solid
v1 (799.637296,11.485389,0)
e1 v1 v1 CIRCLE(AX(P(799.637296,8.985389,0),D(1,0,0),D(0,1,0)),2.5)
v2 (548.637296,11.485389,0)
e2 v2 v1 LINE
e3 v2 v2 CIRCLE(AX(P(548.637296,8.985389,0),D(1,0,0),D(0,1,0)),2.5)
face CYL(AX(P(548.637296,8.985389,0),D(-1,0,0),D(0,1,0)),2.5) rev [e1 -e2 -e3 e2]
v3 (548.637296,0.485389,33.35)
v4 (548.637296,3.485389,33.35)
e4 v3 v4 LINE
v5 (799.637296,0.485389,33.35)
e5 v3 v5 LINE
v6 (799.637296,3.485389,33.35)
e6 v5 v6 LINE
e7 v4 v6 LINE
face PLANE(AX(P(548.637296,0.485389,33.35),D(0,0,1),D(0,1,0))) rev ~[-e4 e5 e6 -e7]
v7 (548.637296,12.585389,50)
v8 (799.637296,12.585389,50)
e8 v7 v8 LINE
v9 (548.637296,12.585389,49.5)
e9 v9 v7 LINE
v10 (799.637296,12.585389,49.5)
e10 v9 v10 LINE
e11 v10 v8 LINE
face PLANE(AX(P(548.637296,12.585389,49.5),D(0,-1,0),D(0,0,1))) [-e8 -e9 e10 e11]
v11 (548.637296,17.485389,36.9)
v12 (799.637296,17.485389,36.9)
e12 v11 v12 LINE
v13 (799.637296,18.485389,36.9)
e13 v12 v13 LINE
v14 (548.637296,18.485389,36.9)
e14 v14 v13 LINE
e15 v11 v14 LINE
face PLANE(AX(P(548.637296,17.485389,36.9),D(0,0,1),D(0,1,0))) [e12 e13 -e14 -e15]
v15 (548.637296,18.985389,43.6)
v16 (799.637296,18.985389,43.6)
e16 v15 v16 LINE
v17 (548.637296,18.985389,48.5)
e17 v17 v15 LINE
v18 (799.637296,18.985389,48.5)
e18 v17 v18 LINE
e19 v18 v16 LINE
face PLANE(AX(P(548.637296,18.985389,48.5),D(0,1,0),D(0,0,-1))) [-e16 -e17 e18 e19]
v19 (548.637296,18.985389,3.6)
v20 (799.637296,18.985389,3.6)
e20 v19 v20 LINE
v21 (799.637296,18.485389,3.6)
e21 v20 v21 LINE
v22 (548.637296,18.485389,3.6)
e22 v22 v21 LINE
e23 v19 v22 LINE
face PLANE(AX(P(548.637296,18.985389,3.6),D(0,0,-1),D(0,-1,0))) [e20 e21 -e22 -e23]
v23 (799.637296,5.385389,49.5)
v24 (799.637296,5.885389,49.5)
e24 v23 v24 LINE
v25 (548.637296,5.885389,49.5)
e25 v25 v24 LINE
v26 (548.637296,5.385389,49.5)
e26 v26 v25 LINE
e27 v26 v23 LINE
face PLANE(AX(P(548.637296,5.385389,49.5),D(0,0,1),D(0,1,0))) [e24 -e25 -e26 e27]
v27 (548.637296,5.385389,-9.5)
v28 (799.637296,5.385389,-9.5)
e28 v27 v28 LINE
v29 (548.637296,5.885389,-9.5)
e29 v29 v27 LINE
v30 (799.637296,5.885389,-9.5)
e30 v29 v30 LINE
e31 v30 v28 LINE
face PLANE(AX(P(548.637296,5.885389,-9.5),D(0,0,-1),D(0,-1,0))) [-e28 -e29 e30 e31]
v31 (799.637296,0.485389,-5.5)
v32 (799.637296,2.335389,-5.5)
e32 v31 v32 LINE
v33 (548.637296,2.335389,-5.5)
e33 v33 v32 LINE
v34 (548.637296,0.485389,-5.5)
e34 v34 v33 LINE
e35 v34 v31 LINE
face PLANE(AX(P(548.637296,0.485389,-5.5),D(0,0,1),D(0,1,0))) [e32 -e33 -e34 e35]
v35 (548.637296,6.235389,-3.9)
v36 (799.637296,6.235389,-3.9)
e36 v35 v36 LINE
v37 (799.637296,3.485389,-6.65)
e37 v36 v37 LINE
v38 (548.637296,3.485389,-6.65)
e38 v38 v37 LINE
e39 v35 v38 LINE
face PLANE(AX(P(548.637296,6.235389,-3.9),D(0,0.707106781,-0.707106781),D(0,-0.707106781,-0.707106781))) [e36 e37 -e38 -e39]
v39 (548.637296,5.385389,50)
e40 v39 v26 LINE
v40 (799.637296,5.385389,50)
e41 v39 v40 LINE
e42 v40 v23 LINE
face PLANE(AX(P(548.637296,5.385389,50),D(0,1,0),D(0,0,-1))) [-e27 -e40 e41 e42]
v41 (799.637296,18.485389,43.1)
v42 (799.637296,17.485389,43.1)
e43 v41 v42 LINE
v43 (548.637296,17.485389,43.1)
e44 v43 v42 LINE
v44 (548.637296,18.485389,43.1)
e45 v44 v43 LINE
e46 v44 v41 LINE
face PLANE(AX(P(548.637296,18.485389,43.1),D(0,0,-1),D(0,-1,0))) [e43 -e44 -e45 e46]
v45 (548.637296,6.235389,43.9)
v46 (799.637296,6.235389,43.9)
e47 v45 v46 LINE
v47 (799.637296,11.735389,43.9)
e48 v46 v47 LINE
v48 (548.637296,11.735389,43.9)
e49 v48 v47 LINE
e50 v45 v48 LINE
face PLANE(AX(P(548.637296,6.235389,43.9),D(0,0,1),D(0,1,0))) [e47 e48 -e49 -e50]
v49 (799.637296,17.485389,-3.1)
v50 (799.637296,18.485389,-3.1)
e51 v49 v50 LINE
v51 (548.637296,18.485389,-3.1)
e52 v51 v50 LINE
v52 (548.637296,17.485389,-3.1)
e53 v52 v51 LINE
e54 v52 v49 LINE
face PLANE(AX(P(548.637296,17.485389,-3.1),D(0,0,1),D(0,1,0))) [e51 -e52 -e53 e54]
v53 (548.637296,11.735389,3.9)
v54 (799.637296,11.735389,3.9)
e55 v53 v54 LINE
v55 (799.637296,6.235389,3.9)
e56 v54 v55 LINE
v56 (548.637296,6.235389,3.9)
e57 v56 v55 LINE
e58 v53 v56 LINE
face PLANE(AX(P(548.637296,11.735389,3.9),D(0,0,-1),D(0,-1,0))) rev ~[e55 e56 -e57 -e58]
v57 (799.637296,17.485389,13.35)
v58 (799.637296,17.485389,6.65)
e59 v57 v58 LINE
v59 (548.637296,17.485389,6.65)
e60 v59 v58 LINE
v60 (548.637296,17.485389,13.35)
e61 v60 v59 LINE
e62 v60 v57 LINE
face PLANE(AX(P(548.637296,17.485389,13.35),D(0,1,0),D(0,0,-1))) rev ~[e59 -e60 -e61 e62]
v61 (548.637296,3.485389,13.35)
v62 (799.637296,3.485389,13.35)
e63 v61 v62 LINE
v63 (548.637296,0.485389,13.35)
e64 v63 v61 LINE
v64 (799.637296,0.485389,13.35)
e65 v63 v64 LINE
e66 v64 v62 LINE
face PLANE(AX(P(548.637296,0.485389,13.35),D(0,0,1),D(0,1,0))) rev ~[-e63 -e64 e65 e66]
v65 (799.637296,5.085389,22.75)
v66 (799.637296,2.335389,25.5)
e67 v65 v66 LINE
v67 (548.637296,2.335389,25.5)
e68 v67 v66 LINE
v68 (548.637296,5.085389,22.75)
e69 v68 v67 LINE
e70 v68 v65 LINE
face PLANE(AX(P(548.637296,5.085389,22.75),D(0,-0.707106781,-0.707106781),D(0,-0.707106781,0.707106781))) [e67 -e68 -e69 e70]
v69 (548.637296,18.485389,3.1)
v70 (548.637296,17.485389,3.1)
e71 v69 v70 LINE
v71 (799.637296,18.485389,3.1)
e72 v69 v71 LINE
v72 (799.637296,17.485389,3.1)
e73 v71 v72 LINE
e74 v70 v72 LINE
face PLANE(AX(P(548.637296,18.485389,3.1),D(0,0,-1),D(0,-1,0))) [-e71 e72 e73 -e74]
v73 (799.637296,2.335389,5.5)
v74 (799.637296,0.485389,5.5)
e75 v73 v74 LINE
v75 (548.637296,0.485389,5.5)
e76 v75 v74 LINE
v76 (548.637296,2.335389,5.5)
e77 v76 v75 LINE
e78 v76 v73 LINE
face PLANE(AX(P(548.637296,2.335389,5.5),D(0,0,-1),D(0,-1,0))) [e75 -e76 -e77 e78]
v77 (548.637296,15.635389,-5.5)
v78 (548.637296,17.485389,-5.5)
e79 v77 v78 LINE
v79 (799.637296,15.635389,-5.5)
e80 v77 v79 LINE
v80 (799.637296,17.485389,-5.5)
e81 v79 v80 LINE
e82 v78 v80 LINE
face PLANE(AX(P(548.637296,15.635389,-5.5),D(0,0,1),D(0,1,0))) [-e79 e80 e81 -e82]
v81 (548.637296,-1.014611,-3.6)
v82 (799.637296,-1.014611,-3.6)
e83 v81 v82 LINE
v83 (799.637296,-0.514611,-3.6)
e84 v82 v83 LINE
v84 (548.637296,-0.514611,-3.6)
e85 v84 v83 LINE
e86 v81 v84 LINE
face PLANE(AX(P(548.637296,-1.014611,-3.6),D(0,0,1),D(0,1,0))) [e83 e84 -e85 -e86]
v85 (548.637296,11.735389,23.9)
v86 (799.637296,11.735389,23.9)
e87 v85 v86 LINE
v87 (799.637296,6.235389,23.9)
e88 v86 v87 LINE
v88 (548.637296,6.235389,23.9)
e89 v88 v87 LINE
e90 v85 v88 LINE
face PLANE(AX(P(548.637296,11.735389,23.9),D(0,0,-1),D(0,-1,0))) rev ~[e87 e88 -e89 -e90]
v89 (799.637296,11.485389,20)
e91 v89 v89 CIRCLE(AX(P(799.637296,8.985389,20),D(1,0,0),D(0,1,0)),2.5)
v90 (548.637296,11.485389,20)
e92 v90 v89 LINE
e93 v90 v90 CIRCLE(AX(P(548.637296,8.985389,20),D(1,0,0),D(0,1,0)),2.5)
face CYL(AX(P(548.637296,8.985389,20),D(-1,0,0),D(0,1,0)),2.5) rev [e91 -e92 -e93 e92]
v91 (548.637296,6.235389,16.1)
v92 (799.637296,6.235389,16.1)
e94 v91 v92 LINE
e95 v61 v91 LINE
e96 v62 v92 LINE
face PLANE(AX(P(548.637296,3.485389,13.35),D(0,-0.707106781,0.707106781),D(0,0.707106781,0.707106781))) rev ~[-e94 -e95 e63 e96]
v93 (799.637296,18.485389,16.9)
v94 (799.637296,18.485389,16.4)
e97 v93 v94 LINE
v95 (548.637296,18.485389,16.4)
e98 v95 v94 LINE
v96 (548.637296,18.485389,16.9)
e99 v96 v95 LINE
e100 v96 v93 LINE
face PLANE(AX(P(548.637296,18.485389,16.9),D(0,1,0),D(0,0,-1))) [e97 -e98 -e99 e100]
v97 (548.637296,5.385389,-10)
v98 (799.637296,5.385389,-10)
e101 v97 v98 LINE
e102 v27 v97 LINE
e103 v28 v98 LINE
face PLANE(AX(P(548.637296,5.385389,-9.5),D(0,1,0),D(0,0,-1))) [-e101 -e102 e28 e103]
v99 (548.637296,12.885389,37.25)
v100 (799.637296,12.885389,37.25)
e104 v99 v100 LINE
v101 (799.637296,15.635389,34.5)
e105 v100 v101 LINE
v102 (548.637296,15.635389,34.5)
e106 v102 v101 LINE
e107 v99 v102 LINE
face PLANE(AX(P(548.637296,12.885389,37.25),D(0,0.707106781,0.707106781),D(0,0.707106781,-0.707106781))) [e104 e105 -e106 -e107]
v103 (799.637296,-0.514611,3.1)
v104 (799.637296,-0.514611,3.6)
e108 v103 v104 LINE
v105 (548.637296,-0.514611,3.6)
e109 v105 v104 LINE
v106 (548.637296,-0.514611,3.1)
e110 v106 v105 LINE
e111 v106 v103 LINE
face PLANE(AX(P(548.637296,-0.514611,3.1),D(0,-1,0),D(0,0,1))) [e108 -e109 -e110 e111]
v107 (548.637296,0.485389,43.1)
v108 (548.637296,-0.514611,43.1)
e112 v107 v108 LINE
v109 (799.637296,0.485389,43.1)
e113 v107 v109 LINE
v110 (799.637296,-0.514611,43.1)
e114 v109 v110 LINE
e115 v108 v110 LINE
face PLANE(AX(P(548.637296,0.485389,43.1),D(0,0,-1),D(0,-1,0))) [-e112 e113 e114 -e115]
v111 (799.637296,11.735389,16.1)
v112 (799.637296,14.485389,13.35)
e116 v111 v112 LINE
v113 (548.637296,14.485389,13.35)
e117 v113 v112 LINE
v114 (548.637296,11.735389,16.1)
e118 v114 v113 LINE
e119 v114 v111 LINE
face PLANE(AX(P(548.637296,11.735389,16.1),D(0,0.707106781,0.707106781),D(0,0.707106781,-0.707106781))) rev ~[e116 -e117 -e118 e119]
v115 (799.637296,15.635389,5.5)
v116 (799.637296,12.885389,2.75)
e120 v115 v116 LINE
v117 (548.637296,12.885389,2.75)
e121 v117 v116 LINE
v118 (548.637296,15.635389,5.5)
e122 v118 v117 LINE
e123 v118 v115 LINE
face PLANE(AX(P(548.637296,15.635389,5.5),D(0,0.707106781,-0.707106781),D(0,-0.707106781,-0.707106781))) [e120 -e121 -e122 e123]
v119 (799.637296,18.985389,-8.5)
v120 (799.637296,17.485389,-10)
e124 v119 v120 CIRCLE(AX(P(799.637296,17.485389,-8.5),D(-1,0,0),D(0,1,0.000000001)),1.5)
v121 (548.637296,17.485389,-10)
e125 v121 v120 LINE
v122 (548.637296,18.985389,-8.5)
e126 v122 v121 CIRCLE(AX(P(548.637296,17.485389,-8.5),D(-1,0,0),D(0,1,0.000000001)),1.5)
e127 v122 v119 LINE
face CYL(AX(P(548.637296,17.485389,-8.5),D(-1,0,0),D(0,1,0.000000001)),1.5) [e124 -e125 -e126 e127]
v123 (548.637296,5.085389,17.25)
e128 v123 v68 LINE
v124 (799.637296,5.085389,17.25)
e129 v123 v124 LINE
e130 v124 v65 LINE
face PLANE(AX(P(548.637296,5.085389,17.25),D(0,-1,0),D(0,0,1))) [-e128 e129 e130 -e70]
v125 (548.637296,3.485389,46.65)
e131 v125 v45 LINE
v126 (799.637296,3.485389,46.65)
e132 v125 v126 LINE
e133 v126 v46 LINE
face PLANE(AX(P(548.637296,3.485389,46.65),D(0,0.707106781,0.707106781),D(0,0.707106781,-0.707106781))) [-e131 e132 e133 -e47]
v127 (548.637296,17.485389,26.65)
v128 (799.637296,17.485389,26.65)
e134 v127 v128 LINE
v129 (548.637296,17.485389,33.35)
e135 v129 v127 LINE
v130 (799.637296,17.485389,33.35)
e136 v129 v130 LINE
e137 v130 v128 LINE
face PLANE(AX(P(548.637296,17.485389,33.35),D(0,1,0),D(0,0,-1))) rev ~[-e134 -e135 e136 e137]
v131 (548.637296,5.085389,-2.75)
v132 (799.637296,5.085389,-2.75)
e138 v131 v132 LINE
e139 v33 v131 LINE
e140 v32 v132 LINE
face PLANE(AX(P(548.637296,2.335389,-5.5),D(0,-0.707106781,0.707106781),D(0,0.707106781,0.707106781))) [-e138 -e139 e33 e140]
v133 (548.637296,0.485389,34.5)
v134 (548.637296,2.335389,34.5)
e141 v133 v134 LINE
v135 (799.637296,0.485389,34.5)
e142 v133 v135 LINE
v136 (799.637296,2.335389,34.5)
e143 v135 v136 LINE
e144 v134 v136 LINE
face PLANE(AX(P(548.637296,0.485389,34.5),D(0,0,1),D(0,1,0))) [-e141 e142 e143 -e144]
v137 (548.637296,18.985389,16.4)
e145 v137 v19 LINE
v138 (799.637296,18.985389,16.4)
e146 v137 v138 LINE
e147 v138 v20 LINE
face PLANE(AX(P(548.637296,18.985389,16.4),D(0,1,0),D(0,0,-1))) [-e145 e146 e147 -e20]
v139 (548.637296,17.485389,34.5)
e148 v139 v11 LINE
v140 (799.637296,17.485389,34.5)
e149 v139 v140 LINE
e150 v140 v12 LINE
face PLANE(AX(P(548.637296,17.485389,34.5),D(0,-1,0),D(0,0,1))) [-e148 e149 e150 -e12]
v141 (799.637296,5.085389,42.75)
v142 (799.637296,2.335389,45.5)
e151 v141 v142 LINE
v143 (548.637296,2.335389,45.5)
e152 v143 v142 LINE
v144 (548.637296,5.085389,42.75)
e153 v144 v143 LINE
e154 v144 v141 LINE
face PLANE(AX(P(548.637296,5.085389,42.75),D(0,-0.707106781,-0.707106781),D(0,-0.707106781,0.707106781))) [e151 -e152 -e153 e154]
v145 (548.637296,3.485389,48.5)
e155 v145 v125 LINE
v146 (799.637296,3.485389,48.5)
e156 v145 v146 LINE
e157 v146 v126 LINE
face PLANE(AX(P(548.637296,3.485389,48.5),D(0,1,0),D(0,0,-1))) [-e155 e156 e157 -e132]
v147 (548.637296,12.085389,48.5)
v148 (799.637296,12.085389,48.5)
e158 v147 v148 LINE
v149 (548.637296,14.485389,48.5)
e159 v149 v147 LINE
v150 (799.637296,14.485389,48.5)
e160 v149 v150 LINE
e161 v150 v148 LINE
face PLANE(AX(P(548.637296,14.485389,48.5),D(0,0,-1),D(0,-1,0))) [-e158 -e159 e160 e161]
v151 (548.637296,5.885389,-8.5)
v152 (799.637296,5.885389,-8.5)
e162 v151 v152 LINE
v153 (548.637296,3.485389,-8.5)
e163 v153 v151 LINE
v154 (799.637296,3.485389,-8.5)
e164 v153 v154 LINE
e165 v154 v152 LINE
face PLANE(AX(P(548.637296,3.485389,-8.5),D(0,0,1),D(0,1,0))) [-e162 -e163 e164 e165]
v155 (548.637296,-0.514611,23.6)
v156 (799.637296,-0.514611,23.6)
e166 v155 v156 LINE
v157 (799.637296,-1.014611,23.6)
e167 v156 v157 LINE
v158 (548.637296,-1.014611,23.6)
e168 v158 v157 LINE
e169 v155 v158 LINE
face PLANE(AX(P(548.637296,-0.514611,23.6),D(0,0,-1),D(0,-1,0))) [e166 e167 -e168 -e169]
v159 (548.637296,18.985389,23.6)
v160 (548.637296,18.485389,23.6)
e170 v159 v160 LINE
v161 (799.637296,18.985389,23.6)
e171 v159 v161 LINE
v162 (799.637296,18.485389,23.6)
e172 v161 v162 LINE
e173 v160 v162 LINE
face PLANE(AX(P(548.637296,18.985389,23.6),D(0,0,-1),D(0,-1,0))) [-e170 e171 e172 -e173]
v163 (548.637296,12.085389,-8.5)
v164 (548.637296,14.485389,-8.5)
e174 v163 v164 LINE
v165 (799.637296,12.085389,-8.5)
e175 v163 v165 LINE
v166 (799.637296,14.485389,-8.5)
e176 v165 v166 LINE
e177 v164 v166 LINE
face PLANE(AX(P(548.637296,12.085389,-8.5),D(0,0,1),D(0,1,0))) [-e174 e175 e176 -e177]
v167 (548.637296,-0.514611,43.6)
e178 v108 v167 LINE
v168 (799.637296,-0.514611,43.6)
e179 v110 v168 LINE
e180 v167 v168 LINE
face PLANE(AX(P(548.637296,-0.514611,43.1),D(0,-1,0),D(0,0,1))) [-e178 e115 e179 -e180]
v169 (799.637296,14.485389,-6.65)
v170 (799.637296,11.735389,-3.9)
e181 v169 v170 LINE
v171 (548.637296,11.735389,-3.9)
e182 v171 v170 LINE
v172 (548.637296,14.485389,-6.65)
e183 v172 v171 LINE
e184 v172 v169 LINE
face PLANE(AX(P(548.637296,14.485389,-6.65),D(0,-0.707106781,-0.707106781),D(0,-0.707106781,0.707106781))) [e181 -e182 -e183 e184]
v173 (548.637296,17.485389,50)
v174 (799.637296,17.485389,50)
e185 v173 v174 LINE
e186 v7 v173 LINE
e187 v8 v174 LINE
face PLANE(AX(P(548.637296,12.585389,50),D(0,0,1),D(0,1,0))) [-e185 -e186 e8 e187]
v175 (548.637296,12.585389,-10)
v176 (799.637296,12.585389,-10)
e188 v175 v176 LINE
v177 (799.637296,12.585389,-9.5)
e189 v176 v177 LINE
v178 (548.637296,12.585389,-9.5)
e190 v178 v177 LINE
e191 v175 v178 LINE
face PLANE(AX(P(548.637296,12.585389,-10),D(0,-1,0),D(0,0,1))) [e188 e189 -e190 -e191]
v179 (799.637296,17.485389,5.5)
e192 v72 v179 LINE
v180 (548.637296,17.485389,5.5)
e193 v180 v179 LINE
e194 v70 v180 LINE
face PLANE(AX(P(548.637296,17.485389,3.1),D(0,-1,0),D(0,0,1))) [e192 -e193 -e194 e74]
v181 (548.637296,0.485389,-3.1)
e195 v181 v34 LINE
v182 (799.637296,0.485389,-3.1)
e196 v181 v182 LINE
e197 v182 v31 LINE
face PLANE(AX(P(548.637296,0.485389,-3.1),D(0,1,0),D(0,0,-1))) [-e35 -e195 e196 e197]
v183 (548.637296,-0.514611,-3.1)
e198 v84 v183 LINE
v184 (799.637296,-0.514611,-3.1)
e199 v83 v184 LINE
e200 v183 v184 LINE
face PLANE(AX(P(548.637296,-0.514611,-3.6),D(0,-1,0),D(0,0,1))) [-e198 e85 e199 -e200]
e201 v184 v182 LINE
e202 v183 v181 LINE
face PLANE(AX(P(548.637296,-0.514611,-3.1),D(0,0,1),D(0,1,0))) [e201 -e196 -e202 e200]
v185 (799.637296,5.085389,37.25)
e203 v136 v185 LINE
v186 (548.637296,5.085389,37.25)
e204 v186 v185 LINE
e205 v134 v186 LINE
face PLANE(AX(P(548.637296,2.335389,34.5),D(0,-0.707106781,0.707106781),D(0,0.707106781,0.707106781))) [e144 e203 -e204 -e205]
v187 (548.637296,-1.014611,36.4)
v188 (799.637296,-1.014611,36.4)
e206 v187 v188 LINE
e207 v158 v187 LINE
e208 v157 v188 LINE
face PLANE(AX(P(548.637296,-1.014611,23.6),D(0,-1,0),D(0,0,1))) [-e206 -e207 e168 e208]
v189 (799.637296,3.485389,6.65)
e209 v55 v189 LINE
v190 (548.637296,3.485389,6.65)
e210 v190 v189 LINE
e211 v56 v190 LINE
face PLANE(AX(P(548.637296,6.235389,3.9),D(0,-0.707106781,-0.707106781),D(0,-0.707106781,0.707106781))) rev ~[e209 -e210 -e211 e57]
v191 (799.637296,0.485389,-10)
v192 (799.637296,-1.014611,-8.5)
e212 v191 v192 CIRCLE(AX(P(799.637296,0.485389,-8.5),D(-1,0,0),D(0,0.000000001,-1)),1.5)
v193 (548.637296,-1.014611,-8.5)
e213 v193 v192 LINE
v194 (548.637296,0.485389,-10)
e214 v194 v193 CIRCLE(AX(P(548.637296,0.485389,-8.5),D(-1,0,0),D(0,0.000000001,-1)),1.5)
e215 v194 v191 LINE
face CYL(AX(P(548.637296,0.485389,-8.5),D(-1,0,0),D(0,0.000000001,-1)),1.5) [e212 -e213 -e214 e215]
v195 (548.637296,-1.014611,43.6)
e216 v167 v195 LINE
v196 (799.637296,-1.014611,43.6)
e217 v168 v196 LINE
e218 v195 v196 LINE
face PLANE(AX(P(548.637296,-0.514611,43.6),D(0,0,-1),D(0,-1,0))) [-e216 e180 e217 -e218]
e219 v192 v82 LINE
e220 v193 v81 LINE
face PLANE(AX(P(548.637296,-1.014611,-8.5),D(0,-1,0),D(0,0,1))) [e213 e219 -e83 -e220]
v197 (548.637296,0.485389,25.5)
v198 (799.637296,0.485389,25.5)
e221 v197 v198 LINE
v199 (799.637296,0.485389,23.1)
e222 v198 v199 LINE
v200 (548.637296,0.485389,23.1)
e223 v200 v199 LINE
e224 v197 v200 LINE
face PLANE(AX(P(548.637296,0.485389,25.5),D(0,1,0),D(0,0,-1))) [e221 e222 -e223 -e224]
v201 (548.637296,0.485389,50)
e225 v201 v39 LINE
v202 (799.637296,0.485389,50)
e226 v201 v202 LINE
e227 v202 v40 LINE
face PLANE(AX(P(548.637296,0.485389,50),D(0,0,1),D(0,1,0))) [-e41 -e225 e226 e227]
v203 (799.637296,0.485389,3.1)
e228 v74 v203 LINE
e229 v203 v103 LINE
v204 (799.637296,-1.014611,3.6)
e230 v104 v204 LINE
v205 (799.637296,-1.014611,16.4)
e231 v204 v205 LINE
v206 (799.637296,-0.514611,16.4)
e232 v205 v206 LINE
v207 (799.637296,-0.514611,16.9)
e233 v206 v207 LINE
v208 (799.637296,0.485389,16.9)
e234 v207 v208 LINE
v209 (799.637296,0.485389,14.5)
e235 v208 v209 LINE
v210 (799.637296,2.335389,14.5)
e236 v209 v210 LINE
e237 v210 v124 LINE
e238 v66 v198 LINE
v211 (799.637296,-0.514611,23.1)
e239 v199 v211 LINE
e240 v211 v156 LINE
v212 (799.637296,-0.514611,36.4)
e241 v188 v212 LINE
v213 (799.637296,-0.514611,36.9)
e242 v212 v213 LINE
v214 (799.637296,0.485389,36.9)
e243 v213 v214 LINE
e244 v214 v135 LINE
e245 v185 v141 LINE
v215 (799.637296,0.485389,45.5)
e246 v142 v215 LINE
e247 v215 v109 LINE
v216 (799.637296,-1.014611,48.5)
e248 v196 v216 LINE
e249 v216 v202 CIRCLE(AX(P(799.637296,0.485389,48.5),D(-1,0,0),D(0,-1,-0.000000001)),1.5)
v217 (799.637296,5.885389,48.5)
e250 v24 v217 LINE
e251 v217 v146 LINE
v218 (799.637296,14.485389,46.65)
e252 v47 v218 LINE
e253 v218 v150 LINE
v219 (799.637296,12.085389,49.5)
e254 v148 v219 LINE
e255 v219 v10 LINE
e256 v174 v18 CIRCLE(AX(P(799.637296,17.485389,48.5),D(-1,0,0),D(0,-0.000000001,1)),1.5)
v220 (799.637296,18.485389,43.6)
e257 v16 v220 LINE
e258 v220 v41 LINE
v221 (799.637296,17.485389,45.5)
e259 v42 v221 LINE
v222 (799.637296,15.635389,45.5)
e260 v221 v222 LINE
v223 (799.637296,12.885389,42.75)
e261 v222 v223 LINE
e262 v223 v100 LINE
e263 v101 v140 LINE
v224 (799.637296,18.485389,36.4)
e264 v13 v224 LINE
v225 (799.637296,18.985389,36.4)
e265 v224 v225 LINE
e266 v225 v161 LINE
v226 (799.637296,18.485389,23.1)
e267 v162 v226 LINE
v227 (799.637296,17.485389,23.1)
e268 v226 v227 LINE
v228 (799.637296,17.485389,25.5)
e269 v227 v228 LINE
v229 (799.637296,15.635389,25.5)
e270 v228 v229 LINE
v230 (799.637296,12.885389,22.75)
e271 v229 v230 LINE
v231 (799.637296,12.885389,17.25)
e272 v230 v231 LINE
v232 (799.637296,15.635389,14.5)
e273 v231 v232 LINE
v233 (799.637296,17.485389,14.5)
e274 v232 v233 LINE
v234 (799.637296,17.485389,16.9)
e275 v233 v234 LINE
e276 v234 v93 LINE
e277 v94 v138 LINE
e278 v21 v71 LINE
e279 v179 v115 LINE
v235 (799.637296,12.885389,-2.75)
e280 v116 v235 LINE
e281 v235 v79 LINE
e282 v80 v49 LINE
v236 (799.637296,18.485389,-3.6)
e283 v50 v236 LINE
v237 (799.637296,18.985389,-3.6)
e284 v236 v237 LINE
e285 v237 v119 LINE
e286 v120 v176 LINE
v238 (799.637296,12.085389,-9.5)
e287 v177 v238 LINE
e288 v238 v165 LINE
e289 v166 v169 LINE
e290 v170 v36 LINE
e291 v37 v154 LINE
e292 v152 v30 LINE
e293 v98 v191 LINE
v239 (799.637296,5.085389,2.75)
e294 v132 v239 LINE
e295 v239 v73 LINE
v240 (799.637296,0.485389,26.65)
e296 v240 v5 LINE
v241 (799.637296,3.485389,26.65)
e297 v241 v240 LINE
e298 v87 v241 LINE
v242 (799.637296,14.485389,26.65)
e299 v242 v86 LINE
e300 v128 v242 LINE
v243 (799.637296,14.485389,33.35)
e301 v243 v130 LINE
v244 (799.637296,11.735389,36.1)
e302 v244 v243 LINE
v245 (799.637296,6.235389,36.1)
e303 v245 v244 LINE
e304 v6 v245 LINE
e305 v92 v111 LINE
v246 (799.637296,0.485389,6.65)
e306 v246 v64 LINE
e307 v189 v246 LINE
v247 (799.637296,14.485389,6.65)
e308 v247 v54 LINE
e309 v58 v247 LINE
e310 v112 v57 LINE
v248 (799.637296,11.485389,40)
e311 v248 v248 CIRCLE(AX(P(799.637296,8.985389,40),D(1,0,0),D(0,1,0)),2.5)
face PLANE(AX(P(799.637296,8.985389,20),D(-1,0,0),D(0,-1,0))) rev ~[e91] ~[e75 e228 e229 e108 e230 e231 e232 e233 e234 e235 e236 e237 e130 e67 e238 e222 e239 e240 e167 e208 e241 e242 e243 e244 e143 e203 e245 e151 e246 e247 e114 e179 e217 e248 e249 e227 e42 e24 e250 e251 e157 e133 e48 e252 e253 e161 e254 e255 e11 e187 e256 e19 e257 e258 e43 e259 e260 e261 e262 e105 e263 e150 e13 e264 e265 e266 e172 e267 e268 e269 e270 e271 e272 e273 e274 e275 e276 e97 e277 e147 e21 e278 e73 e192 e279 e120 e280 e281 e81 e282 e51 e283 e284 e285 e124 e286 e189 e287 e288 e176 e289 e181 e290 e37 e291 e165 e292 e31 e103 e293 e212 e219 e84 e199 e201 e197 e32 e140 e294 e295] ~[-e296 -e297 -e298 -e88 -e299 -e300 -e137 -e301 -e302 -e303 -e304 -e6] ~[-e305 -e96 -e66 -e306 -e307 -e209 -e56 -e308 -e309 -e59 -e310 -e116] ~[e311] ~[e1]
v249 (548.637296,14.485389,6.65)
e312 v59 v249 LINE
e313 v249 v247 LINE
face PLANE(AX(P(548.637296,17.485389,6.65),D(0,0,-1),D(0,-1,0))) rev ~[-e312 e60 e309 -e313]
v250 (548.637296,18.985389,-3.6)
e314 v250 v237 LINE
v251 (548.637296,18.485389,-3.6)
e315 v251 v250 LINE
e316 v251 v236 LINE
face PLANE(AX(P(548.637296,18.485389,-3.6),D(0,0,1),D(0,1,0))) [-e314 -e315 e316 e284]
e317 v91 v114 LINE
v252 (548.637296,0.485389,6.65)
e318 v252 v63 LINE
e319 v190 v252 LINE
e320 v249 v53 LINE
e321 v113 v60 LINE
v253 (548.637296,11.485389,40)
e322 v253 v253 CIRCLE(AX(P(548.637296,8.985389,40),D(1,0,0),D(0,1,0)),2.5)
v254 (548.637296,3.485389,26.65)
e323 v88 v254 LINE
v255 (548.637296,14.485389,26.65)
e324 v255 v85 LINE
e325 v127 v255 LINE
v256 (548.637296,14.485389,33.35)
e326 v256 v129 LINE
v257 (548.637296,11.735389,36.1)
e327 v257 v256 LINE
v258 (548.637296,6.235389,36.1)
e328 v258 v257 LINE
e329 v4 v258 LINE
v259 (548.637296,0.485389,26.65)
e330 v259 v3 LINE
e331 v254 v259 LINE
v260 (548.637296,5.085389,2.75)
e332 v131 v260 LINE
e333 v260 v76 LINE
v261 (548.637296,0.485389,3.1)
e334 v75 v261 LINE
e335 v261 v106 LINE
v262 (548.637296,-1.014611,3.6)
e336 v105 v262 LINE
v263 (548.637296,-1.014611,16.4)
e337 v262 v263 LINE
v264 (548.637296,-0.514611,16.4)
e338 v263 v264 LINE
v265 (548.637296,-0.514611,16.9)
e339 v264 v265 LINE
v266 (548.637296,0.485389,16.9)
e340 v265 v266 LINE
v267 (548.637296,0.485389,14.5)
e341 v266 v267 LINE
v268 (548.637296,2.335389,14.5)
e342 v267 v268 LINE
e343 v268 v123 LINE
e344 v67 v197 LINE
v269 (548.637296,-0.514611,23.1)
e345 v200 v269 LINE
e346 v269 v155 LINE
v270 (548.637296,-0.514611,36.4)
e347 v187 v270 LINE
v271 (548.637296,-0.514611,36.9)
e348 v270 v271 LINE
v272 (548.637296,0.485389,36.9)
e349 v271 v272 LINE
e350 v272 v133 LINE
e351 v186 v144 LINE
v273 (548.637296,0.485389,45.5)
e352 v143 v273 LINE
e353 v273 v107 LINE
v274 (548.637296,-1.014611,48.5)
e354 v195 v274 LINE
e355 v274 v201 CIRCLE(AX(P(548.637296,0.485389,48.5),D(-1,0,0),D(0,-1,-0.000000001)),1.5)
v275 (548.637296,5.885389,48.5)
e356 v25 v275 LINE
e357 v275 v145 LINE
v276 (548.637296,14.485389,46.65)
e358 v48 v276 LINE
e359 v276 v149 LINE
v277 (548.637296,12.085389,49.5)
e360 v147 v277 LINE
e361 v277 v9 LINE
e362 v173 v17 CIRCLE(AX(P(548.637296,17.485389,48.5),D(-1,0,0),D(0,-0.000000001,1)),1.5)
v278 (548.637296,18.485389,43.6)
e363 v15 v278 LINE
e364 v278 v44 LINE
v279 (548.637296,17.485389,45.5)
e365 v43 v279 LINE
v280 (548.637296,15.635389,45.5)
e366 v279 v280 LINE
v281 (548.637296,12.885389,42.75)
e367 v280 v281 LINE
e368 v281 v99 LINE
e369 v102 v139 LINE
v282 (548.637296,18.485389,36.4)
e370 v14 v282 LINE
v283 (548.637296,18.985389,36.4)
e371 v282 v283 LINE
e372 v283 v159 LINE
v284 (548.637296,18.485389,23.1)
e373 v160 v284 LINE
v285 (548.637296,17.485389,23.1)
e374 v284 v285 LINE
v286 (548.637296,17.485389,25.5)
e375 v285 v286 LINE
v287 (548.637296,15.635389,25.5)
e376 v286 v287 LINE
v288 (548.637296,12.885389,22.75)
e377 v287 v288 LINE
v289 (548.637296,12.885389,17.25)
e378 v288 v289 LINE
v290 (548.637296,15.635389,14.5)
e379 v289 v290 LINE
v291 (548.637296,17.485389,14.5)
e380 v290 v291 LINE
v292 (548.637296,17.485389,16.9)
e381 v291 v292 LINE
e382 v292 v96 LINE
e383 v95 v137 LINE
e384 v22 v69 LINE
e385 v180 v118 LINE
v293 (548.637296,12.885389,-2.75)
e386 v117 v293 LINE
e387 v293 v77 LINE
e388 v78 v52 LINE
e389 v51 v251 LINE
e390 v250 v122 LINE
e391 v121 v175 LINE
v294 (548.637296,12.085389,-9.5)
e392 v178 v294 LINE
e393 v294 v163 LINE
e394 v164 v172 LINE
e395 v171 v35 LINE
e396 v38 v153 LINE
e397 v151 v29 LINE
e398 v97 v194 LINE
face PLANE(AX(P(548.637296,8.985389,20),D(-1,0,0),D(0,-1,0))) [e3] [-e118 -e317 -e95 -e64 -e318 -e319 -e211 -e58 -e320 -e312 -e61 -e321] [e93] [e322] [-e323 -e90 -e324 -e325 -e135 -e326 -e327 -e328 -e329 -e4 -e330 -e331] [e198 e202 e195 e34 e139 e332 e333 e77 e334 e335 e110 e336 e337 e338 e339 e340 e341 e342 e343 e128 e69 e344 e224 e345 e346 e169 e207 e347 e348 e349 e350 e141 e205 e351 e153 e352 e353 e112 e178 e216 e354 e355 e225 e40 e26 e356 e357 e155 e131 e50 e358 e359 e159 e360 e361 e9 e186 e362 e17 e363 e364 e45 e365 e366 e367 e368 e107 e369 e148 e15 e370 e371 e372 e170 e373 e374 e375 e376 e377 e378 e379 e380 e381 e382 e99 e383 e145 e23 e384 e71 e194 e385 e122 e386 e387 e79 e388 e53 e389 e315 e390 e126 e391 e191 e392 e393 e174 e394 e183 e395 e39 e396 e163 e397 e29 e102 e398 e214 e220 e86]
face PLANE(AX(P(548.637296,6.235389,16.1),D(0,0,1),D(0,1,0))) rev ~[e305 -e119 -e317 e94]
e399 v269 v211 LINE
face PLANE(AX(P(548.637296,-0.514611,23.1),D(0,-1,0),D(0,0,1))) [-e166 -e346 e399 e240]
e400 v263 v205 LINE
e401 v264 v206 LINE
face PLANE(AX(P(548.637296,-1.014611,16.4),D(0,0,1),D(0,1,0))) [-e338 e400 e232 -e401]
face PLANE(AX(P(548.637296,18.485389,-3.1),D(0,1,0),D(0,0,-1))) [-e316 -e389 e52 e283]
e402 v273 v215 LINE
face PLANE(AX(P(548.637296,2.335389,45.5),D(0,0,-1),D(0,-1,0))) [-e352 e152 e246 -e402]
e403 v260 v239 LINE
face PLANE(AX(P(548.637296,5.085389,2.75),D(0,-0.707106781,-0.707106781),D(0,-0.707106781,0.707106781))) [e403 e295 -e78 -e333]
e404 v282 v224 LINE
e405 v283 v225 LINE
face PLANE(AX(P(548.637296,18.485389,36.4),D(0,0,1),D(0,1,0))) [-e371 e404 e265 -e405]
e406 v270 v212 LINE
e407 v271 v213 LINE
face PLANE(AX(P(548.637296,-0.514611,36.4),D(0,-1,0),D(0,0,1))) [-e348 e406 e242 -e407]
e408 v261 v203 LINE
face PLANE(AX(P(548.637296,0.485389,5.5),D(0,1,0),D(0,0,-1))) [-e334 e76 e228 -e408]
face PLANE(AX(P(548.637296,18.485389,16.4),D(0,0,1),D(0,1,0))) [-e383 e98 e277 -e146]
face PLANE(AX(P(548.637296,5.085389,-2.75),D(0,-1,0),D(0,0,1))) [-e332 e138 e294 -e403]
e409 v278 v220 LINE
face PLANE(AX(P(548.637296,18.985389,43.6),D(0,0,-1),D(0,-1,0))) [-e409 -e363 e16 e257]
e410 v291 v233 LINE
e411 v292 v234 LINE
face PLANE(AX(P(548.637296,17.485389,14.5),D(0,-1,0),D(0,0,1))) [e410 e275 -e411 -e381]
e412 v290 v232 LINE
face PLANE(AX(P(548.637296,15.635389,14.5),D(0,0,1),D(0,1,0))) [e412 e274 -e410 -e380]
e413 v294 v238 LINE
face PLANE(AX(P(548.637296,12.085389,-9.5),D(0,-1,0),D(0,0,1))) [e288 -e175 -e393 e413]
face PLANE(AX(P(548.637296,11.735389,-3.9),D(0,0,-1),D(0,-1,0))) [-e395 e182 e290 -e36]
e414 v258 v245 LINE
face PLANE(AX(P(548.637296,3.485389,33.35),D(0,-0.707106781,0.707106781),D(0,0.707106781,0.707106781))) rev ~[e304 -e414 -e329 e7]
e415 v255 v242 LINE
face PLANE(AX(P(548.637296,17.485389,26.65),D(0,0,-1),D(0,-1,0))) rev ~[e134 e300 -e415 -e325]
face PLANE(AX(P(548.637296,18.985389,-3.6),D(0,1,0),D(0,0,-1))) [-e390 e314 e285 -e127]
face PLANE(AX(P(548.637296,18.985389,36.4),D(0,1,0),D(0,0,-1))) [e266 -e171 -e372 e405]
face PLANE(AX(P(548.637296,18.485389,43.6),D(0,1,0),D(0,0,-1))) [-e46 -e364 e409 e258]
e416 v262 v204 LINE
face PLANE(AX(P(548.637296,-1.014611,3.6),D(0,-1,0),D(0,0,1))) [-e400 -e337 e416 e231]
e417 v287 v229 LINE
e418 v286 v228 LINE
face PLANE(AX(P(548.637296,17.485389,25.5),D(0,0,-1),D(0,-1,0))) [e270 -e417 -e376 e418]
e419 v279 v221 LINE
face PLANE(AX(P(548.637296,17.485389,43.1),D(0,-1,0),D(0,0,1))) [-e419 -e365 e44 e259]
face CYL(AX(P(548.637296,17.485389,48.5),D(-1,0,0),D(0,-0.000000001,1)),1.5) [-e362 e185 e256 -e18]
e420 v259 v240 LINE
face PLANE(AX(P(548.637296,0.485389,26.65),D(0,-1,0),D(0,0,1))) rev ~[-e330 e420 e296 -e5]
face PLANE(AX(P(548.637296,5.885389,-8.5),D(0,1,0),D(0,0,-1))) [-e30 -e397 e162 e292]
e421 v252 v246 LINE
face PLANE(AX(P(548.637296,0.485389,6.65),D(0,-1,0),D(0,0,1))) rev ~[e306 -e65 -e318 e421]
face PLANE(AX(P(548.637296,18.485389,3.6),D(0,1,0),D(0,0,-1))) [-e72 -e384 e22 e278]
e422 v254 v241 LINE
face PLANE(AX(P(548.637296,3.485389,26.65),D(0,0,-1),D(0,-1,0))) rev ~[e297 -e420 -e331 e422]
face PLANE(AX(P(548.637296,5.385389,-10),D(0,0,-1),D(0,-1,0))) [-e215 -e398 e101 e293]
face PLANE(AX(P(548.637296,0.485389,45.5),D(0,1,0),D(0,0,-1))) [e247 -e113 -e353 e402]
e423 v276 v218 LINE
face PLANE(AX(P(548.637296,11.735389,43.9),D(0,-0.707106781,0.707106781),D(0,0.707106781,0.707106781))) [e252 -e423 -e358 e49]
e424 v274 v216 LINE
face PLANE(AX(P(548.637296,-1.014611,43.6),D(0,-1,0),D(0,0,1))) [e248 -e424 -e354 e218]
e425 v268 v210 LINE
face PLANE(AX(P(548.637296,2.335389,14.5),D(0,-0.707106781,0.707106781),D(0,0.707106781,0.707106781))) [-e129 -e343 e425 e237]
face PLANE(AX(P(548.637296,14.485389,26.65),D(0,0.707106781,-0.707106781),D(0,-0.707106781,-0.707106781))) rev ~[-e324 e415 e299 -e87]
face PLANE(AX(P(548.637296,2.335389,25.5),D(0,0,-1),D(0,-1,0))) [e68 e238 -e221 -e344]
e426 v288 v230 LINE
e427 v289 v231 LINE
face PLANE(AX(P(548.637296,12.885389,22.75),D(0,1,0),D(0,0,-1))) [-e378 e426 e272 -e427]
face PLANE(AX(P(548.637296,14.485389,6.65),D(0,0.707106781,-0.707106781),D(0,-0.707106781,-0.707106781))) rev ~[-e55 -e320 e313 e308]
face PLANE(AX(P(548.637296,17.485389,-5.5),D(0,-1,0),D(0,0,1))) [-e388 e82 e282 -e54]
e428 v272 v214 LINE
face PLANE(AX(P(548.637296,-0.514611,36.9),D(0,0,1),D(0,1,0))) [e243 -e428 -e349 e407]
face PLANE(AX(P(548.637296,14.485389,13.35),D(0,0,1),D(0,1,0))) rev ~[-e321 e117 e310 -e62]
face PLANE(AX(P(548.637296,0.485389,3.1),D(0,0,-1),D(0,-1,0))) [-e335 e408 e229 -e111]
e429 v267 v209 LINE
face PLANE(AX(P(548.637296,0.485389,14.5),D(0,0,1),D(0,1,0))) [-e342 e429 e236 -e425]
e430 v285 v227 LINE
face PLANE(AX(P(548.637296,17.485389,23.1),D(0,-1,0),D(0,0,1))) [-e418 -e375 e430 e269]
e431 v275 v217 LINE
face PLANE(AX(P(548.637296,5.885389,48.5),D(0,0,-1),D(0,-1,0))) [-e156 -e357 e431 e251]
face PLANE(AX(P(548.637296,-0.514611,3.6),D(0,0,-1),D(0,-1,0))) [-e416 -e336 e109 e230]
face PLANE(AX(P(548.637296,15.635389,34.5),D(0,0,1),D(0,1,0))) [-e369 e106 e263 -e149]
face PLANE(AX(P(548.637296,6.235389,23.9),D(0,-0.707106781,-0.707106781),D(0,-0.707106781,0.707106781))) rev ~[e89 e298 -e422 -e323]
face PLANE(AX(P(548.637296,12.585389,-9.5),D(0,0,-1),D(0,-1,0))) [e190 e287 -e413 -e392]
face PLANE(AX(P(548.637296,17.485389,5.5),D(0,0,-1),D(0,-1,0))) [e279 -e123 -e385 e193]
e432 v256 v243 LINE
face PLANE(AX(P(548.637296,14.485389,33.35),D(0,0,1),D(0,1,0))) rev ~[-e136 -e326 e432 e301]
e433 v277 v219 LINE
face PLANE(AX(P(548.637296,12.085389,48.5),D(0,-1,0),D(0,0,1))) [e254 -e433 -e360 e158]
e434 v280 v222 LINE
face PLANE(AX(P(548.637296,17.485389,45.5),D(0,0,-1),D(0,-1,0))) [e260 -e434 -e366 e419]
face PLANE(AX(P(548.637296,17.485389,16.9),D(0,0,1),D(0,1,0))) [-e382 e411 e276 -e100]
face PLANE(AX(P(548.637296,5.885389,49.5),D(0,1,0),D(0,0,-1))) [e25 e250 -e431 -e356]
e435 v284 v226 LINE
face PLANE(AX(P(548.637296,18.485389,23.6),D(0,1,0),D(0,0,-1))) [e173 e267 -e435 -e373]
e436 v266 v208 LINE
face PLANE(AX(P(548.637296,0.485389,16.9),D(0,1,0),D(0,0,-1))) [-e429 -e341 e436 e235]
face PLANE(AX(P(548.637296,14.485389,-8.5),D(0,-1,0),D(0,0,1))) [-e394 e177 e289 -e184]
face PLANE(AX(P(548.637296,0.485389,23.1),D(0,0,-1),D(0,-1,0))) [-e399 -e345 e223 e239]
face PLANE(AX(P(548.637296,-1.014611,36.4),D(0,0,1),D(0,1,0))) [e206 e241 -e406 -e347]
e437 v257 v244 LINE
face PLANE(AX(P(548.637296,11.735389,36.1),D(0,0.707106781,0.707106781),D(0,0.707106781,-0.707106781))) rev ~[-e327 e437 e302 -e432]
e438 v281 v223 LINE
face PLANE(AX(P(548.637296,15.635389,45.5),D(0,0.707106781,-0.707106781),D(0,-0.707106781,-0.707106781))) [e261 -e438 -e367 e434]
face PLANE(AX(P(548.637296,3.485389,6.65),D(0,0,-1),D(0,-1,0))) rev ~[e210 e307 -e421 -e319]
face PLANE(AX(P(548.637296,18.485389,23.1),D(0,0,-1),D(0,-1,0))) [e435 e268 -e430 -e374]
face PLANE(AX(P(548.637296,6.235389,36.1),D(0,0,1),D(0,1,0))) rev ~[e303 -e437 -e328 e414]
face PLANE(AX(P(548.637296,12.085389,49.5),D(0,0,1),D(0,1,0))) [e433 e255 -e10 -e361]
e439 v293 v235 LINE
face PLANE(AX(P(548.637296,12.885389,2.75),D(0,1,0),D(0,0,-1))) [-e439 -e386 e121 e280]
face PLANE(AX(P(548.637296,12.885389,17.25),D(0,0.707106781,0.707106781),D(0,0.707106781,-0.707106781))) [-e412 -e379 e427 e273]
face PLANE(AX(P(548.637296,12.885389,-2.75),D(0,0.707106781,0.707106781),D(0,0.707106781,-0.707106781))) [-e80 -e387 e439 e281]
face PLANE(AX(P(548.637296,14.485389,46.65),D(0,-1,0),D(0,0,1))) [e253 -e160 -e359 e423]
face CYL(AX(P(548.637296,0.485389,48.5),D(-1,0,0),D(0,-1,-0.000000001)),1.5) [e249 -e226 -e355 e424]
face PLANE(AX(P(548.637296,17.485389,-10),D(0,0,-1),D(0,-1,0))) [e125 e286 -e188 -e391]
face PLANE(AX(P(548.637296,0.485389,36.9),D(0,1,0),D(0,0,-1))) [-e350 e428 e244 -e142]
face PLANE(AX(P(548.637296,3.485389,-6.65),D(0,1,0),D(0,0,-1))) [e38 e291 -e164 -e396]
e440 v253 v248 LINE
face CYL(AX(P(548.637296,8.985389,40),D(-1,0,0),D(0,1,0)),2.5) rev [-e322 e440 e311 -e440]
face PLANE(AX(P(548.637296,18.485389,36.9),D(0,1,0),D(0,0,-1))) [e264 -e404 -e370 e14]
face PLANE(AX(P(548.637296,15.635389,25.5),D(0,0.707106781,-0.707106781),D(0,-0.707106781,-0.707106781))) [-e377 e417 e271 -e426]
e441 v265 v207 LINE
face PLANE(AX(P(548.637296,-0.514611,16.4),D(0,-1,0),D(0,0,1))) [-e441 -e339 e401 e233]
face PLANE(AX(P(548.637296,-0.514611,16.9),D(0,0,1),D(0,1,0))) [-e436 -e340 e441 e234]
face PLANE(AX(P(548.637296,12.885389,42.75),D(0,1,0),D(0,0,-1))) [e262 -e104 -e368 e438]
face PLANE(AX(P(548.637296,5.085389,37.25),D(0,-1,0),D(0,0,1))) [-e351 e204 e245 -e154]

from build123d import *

# Parameters (mm, degrees)
SKETCH1_R                = 2.5
F_20_X_20_X_R1_5_1_DEPTH = 251


with BuildPart() as part:
    # Sketch1 → 铝型材 20 X 20 X R1.5(1) (new body)
    with BuildSketch(Plane(origin=(548.637296324, 8.985389246, 0), x_dir=(0, 1, 0), z_dir=(1, 0, 0))):
        with BuildLine():
            Line((-10, -3.6), (-9.5, -3.6))
            Line((-9.5, -3.6), (-9.5, -3.1))
            Line((-9.5, -3.1), (-8.5, -3.1))
            Line((-8.5, -3.1), (-8.5, -5.5))
            Line((-8.5, -5.5), (-6.65, -5.5))
            Line((-6.65, -5.5), (-3.9, -2.75))
            Line((-3.9, -2.75), (-3.9, 2.75))
            Line((-3.9, 2.75), (-6.65, 5.5))
            Line((-6.65, 5.5), (-8.5, 5.5))
            Line((-8.5, 5.5), (-8.5, 3.1))
            Line((-8.5, 3.1), (-9.5, 3.1))
            Line((-9.5, 3.1), (-9.5, 3.6))
            Line((-9.5, 3.6), (-10, 3.6))
            Line((-10, 3.6), (-10, 8.5))
            Line((-10, 8.5), (-10, 11.5))
            Line((-10, 11.5), (-10, 16.4))
            Line((-10, 16.4), (-9.5, 16.4))
            Line((-9.5, 16.4), (-9.5, 16.9))
            Line((-9.5, 16.9), (-8.5, 16.9))
            Line((-8.5, 16.9), (-8.5, 14.5))
            Line((-8.5, 14.5), (-6.65, 14.5))
            Line((-6.65, 14.5), (-3.9, 17.25))
            Line((-3.9, 17.25), (-3.9, 22.75))
            Line((-3.9, 22.75), (-6.65, 25.5))
            Line((-6.65, 25.5), (-8.5, 25.5))
            Line((-8.5, 25.5), (-8.5, 23.1))
            Line((-8.5, 23.1), (-9.5, 23.1))
            Line((-9.5, 23.1), (-9.5, 23.6))
            Line((-9.5, 23.6), (-10, 23.6))
            Line((-10, 23.6), (-10, 28.5))
            Line((-10, 28.5), (-10, 31.5))
            Line((-10, 31.5), (-10, 36.4))
            Line((-10, 36.4), (-9.5, 36.4))
            Line((-9.5, 36.4), (-9.5, 36.9))
            Line((-9.5, 36.9), (-8.5, 36.9))
            Line((-8.5, 36.9), (-8.5, 34.5))
            Line((-8.5, 34.5), (-6.65, 34.5))
            Line((-6.65, 34.5), (-3.9, 37.25))
            Line((-3.9, 37.25), (-3.9, 42.75))
            Line((-3.9, 42.75), (-6.65, 45.5))
            Line((-6.65, 45.5), (-8.5, 45.5))
            Line((-8.5, 45.5), (-8.5, 43.1))
            Line((-8.5, 43.1), (-9.5, 43.1))
            Line((-9.5, 43.1), (-9.5, 43.6))
            Line((-9.5, 43.6), (-10, 43.6))
            Line((-10, 43.6), (-10, 48.5))
            ThreePointArc((-10, 48.5), (-9.560660172, 49.560660172), (-8.5, 50))
            Line((-8.5, 50), (-3.6, 50))
            Line((-3.6, 50), (-3.6, 49.5))
            Line((-3.6, 49.5), (-3.1, 49.5))
            Line((-3.1, 49.5), (-3.1, 48.5))
            Line((-3.1, 48.5), (-5.5, 48.5))
            Line((-5.5, 48.5), (-5.5, 46.65))
            Line((-5.5, 46.65), (-2.75, 43.9))
            Line((-2.75, 43.9), (2.75, 43.9))
            Line((2.75, 43.9), (5.5, 46.65))
            Line((5.5, 46.65), (5.5, 48.5))
            Line((5.5, 48.5), (3.1, 48.5))
            Line((3.1, 48.5), (3.1, 49.5))
            Line((3.1, 49.5), (3.6, 49.5))
            Line((3.6, 49.5), (3.6, 50))
            Line((3.6, 50), (8.5, 50))
            ThreePointArc((8.5, 50), (9.560660172, 49.560660172), (10, 48.5))
            Line((10, 48.5), (10, 43.6))
            Line((10, 43.6), (9.5, 43.6))
            Line((9.5, 43.6), (9.5, 43.1))
            Line((9.5, 43.1), (8.5, 43.1))
            Line((8.5, 43.1), (8.5, 45.5))
            Line((8.5, 45.5), (6.65, 45.5))
            Line((6.65, 45.5), (3.9, 42.75))
            Line((3.9, 42.75), (3.9, 37.25))
            Line((3.9, 37.25), (6.65, 34.5))
            Line((6.65, 34.5), (8.5, 34.5))
            Line((8.5, 34.5), (8.5, 36.9))
            Line((8.5, 36.9), (9.5, 36.9))
            Line((9.5, 36.9), (9.5, 36.4))
            Line((9.5, 36.4), (10, 36.4))
            Line((10, 36.4), (10, 31.5))
            Line((10, 31.5), (10, 28.5))
            Line((10, 28.5), (10, 23.6))
            Line((10, 23.6), (9.5, 23.6))
            Line((9.5, 23.6), (9.5, 23.1))
            Line((9.5, 23.1), (8.5, 23.1))
            Line((8.5, 23.1), (8.5, 25.5))
            Line((8.5, 25.5), (6.65, 25.5))
            Line((6.65, 25.5), (3.9, 22.75))
            Line((3.9, 22.75), (3.9, 17.25))
            Line((3.9, 17.25), (6.65, 14.5))
            Line((6.65, 14.5), (8.5, 14.5))
            Line((8.5, 14.5), (8.5, 16.9))
            Line((8.5, 16.9), (9.5, 16.9))
            Line((9.5, 16.9), (9.5, 16.4))
            Line((9.5, 16.4), (10, 16.4))
            Line((10, 16.4), (10, 11.5))
            Line((10, 11.5), (10, 8.5))
            Line((10, 8.5), (10, 3.6))
            Line((10, 3.6), (9.5, 3.6))
            Line((9.5, 3.6), (9.5, 3.1))
            Line((9.5, 3.1), (8.5, 3.1))
            Line((8.5, 3.1), (8.5, 5.5))
            Line((8.5, 5.5), (6.65, 5.5))
            Line((6.65, 5.5), (3.9, 2.75))
            Line((3.9, 2.75), (3.9, -2.75))
            Line((3.9, -2.75), (6.65, -5.5))
            Line((6.65, -5.5), (8.5, -5.5))
            Line((8.5, -5.5), (8.5, -3.1))
            Line((8.5, -3.1), (9.5, -3.1))
            Line((9.5, -3.1), (9.5, -3.6))
            Line((9.5, -3.6), (10, -3.6))
            Line((10, -3.6), (10, -8.5))
            ThreePointArc((10, -8.5), (9.560660172, -9.560660172), (8.5, -10))
            Line((8.5, -10), (3.6, -10))
            Line((3.6, -10), (3.6, -9.5))
            Line((3.6, -9.5), (3.1, -9.5))
            Line((3.1, -9.5), (3.1, -8.5))
            Line((3.1, -8.5), (5.5, -8.5))
            Line((5.5, -8.5), (5.5, -6.65))
            Line((5.5, -6.65), (2.75, -3.9))
            Line((2.75, -3.9), (-2.75, -3.9))
            Line((-2.75, -3.9), (-5.5, -6.65))
            Line((-5.5, -6.65), (-5.5, -8.5))
            Line((-5.5, -8.5), (-3.1, -8.5))
            Line((-3.1, -8.5), (-3.1, -9.5))
            Line((-3.1, -9.5), (-3.6, -9.5))
            Line((-3.6, -9.5), (-3.6, -10))
            Line((-3.6, -10), (-8.5, -10))
            ThreePointArc((-8.5, -10), (-9.560660172, -9.560660172), (-10, -8.5))
            Line((-10, -8.5), (-10, -3.6))
        make_face()
        Circle(SKETCH1_R, mode=Mode.SUBTRACT)
        with Locations((0, 20)):
            Circle(SKETCH1_R, mode=Mode.SUBTRACT)
        with Locations((0, 40)):
            Circle(SKETCH1_R, mode=Mode.SUBTRACT)
        Polygon((-5.5, 6.65), (-8.5, 6.65), (-8.5, 13.35), (-5.5, 13.35), (-2.75, 16.1), (2.75, 16.1), (5.5, 13.35), (8.5, 13.35), (8.5, 6.65), (5.5, 6.65), (2.75, 3.9), (-2.75, 3.9), align=None, mode=Mode.SUBTRACT)
        Polygon((-5.5, 26.65), (-8.5, 26.65), (-8.5, 33.35), (-5.5, 33.35), (-2.75, 36.1), (2.75, 36.1), (5.5, 33.35), (8.5, 33.35), (8.5, 26.65), (5.5, 26.65), (2.75, 23.9), (-2.75, 23.9), align=None, mode=Mode.SUBTRACT)
    extrude(amount=F_20_X_20_X_R1_5_1_DEPTH)


solid = part.part
